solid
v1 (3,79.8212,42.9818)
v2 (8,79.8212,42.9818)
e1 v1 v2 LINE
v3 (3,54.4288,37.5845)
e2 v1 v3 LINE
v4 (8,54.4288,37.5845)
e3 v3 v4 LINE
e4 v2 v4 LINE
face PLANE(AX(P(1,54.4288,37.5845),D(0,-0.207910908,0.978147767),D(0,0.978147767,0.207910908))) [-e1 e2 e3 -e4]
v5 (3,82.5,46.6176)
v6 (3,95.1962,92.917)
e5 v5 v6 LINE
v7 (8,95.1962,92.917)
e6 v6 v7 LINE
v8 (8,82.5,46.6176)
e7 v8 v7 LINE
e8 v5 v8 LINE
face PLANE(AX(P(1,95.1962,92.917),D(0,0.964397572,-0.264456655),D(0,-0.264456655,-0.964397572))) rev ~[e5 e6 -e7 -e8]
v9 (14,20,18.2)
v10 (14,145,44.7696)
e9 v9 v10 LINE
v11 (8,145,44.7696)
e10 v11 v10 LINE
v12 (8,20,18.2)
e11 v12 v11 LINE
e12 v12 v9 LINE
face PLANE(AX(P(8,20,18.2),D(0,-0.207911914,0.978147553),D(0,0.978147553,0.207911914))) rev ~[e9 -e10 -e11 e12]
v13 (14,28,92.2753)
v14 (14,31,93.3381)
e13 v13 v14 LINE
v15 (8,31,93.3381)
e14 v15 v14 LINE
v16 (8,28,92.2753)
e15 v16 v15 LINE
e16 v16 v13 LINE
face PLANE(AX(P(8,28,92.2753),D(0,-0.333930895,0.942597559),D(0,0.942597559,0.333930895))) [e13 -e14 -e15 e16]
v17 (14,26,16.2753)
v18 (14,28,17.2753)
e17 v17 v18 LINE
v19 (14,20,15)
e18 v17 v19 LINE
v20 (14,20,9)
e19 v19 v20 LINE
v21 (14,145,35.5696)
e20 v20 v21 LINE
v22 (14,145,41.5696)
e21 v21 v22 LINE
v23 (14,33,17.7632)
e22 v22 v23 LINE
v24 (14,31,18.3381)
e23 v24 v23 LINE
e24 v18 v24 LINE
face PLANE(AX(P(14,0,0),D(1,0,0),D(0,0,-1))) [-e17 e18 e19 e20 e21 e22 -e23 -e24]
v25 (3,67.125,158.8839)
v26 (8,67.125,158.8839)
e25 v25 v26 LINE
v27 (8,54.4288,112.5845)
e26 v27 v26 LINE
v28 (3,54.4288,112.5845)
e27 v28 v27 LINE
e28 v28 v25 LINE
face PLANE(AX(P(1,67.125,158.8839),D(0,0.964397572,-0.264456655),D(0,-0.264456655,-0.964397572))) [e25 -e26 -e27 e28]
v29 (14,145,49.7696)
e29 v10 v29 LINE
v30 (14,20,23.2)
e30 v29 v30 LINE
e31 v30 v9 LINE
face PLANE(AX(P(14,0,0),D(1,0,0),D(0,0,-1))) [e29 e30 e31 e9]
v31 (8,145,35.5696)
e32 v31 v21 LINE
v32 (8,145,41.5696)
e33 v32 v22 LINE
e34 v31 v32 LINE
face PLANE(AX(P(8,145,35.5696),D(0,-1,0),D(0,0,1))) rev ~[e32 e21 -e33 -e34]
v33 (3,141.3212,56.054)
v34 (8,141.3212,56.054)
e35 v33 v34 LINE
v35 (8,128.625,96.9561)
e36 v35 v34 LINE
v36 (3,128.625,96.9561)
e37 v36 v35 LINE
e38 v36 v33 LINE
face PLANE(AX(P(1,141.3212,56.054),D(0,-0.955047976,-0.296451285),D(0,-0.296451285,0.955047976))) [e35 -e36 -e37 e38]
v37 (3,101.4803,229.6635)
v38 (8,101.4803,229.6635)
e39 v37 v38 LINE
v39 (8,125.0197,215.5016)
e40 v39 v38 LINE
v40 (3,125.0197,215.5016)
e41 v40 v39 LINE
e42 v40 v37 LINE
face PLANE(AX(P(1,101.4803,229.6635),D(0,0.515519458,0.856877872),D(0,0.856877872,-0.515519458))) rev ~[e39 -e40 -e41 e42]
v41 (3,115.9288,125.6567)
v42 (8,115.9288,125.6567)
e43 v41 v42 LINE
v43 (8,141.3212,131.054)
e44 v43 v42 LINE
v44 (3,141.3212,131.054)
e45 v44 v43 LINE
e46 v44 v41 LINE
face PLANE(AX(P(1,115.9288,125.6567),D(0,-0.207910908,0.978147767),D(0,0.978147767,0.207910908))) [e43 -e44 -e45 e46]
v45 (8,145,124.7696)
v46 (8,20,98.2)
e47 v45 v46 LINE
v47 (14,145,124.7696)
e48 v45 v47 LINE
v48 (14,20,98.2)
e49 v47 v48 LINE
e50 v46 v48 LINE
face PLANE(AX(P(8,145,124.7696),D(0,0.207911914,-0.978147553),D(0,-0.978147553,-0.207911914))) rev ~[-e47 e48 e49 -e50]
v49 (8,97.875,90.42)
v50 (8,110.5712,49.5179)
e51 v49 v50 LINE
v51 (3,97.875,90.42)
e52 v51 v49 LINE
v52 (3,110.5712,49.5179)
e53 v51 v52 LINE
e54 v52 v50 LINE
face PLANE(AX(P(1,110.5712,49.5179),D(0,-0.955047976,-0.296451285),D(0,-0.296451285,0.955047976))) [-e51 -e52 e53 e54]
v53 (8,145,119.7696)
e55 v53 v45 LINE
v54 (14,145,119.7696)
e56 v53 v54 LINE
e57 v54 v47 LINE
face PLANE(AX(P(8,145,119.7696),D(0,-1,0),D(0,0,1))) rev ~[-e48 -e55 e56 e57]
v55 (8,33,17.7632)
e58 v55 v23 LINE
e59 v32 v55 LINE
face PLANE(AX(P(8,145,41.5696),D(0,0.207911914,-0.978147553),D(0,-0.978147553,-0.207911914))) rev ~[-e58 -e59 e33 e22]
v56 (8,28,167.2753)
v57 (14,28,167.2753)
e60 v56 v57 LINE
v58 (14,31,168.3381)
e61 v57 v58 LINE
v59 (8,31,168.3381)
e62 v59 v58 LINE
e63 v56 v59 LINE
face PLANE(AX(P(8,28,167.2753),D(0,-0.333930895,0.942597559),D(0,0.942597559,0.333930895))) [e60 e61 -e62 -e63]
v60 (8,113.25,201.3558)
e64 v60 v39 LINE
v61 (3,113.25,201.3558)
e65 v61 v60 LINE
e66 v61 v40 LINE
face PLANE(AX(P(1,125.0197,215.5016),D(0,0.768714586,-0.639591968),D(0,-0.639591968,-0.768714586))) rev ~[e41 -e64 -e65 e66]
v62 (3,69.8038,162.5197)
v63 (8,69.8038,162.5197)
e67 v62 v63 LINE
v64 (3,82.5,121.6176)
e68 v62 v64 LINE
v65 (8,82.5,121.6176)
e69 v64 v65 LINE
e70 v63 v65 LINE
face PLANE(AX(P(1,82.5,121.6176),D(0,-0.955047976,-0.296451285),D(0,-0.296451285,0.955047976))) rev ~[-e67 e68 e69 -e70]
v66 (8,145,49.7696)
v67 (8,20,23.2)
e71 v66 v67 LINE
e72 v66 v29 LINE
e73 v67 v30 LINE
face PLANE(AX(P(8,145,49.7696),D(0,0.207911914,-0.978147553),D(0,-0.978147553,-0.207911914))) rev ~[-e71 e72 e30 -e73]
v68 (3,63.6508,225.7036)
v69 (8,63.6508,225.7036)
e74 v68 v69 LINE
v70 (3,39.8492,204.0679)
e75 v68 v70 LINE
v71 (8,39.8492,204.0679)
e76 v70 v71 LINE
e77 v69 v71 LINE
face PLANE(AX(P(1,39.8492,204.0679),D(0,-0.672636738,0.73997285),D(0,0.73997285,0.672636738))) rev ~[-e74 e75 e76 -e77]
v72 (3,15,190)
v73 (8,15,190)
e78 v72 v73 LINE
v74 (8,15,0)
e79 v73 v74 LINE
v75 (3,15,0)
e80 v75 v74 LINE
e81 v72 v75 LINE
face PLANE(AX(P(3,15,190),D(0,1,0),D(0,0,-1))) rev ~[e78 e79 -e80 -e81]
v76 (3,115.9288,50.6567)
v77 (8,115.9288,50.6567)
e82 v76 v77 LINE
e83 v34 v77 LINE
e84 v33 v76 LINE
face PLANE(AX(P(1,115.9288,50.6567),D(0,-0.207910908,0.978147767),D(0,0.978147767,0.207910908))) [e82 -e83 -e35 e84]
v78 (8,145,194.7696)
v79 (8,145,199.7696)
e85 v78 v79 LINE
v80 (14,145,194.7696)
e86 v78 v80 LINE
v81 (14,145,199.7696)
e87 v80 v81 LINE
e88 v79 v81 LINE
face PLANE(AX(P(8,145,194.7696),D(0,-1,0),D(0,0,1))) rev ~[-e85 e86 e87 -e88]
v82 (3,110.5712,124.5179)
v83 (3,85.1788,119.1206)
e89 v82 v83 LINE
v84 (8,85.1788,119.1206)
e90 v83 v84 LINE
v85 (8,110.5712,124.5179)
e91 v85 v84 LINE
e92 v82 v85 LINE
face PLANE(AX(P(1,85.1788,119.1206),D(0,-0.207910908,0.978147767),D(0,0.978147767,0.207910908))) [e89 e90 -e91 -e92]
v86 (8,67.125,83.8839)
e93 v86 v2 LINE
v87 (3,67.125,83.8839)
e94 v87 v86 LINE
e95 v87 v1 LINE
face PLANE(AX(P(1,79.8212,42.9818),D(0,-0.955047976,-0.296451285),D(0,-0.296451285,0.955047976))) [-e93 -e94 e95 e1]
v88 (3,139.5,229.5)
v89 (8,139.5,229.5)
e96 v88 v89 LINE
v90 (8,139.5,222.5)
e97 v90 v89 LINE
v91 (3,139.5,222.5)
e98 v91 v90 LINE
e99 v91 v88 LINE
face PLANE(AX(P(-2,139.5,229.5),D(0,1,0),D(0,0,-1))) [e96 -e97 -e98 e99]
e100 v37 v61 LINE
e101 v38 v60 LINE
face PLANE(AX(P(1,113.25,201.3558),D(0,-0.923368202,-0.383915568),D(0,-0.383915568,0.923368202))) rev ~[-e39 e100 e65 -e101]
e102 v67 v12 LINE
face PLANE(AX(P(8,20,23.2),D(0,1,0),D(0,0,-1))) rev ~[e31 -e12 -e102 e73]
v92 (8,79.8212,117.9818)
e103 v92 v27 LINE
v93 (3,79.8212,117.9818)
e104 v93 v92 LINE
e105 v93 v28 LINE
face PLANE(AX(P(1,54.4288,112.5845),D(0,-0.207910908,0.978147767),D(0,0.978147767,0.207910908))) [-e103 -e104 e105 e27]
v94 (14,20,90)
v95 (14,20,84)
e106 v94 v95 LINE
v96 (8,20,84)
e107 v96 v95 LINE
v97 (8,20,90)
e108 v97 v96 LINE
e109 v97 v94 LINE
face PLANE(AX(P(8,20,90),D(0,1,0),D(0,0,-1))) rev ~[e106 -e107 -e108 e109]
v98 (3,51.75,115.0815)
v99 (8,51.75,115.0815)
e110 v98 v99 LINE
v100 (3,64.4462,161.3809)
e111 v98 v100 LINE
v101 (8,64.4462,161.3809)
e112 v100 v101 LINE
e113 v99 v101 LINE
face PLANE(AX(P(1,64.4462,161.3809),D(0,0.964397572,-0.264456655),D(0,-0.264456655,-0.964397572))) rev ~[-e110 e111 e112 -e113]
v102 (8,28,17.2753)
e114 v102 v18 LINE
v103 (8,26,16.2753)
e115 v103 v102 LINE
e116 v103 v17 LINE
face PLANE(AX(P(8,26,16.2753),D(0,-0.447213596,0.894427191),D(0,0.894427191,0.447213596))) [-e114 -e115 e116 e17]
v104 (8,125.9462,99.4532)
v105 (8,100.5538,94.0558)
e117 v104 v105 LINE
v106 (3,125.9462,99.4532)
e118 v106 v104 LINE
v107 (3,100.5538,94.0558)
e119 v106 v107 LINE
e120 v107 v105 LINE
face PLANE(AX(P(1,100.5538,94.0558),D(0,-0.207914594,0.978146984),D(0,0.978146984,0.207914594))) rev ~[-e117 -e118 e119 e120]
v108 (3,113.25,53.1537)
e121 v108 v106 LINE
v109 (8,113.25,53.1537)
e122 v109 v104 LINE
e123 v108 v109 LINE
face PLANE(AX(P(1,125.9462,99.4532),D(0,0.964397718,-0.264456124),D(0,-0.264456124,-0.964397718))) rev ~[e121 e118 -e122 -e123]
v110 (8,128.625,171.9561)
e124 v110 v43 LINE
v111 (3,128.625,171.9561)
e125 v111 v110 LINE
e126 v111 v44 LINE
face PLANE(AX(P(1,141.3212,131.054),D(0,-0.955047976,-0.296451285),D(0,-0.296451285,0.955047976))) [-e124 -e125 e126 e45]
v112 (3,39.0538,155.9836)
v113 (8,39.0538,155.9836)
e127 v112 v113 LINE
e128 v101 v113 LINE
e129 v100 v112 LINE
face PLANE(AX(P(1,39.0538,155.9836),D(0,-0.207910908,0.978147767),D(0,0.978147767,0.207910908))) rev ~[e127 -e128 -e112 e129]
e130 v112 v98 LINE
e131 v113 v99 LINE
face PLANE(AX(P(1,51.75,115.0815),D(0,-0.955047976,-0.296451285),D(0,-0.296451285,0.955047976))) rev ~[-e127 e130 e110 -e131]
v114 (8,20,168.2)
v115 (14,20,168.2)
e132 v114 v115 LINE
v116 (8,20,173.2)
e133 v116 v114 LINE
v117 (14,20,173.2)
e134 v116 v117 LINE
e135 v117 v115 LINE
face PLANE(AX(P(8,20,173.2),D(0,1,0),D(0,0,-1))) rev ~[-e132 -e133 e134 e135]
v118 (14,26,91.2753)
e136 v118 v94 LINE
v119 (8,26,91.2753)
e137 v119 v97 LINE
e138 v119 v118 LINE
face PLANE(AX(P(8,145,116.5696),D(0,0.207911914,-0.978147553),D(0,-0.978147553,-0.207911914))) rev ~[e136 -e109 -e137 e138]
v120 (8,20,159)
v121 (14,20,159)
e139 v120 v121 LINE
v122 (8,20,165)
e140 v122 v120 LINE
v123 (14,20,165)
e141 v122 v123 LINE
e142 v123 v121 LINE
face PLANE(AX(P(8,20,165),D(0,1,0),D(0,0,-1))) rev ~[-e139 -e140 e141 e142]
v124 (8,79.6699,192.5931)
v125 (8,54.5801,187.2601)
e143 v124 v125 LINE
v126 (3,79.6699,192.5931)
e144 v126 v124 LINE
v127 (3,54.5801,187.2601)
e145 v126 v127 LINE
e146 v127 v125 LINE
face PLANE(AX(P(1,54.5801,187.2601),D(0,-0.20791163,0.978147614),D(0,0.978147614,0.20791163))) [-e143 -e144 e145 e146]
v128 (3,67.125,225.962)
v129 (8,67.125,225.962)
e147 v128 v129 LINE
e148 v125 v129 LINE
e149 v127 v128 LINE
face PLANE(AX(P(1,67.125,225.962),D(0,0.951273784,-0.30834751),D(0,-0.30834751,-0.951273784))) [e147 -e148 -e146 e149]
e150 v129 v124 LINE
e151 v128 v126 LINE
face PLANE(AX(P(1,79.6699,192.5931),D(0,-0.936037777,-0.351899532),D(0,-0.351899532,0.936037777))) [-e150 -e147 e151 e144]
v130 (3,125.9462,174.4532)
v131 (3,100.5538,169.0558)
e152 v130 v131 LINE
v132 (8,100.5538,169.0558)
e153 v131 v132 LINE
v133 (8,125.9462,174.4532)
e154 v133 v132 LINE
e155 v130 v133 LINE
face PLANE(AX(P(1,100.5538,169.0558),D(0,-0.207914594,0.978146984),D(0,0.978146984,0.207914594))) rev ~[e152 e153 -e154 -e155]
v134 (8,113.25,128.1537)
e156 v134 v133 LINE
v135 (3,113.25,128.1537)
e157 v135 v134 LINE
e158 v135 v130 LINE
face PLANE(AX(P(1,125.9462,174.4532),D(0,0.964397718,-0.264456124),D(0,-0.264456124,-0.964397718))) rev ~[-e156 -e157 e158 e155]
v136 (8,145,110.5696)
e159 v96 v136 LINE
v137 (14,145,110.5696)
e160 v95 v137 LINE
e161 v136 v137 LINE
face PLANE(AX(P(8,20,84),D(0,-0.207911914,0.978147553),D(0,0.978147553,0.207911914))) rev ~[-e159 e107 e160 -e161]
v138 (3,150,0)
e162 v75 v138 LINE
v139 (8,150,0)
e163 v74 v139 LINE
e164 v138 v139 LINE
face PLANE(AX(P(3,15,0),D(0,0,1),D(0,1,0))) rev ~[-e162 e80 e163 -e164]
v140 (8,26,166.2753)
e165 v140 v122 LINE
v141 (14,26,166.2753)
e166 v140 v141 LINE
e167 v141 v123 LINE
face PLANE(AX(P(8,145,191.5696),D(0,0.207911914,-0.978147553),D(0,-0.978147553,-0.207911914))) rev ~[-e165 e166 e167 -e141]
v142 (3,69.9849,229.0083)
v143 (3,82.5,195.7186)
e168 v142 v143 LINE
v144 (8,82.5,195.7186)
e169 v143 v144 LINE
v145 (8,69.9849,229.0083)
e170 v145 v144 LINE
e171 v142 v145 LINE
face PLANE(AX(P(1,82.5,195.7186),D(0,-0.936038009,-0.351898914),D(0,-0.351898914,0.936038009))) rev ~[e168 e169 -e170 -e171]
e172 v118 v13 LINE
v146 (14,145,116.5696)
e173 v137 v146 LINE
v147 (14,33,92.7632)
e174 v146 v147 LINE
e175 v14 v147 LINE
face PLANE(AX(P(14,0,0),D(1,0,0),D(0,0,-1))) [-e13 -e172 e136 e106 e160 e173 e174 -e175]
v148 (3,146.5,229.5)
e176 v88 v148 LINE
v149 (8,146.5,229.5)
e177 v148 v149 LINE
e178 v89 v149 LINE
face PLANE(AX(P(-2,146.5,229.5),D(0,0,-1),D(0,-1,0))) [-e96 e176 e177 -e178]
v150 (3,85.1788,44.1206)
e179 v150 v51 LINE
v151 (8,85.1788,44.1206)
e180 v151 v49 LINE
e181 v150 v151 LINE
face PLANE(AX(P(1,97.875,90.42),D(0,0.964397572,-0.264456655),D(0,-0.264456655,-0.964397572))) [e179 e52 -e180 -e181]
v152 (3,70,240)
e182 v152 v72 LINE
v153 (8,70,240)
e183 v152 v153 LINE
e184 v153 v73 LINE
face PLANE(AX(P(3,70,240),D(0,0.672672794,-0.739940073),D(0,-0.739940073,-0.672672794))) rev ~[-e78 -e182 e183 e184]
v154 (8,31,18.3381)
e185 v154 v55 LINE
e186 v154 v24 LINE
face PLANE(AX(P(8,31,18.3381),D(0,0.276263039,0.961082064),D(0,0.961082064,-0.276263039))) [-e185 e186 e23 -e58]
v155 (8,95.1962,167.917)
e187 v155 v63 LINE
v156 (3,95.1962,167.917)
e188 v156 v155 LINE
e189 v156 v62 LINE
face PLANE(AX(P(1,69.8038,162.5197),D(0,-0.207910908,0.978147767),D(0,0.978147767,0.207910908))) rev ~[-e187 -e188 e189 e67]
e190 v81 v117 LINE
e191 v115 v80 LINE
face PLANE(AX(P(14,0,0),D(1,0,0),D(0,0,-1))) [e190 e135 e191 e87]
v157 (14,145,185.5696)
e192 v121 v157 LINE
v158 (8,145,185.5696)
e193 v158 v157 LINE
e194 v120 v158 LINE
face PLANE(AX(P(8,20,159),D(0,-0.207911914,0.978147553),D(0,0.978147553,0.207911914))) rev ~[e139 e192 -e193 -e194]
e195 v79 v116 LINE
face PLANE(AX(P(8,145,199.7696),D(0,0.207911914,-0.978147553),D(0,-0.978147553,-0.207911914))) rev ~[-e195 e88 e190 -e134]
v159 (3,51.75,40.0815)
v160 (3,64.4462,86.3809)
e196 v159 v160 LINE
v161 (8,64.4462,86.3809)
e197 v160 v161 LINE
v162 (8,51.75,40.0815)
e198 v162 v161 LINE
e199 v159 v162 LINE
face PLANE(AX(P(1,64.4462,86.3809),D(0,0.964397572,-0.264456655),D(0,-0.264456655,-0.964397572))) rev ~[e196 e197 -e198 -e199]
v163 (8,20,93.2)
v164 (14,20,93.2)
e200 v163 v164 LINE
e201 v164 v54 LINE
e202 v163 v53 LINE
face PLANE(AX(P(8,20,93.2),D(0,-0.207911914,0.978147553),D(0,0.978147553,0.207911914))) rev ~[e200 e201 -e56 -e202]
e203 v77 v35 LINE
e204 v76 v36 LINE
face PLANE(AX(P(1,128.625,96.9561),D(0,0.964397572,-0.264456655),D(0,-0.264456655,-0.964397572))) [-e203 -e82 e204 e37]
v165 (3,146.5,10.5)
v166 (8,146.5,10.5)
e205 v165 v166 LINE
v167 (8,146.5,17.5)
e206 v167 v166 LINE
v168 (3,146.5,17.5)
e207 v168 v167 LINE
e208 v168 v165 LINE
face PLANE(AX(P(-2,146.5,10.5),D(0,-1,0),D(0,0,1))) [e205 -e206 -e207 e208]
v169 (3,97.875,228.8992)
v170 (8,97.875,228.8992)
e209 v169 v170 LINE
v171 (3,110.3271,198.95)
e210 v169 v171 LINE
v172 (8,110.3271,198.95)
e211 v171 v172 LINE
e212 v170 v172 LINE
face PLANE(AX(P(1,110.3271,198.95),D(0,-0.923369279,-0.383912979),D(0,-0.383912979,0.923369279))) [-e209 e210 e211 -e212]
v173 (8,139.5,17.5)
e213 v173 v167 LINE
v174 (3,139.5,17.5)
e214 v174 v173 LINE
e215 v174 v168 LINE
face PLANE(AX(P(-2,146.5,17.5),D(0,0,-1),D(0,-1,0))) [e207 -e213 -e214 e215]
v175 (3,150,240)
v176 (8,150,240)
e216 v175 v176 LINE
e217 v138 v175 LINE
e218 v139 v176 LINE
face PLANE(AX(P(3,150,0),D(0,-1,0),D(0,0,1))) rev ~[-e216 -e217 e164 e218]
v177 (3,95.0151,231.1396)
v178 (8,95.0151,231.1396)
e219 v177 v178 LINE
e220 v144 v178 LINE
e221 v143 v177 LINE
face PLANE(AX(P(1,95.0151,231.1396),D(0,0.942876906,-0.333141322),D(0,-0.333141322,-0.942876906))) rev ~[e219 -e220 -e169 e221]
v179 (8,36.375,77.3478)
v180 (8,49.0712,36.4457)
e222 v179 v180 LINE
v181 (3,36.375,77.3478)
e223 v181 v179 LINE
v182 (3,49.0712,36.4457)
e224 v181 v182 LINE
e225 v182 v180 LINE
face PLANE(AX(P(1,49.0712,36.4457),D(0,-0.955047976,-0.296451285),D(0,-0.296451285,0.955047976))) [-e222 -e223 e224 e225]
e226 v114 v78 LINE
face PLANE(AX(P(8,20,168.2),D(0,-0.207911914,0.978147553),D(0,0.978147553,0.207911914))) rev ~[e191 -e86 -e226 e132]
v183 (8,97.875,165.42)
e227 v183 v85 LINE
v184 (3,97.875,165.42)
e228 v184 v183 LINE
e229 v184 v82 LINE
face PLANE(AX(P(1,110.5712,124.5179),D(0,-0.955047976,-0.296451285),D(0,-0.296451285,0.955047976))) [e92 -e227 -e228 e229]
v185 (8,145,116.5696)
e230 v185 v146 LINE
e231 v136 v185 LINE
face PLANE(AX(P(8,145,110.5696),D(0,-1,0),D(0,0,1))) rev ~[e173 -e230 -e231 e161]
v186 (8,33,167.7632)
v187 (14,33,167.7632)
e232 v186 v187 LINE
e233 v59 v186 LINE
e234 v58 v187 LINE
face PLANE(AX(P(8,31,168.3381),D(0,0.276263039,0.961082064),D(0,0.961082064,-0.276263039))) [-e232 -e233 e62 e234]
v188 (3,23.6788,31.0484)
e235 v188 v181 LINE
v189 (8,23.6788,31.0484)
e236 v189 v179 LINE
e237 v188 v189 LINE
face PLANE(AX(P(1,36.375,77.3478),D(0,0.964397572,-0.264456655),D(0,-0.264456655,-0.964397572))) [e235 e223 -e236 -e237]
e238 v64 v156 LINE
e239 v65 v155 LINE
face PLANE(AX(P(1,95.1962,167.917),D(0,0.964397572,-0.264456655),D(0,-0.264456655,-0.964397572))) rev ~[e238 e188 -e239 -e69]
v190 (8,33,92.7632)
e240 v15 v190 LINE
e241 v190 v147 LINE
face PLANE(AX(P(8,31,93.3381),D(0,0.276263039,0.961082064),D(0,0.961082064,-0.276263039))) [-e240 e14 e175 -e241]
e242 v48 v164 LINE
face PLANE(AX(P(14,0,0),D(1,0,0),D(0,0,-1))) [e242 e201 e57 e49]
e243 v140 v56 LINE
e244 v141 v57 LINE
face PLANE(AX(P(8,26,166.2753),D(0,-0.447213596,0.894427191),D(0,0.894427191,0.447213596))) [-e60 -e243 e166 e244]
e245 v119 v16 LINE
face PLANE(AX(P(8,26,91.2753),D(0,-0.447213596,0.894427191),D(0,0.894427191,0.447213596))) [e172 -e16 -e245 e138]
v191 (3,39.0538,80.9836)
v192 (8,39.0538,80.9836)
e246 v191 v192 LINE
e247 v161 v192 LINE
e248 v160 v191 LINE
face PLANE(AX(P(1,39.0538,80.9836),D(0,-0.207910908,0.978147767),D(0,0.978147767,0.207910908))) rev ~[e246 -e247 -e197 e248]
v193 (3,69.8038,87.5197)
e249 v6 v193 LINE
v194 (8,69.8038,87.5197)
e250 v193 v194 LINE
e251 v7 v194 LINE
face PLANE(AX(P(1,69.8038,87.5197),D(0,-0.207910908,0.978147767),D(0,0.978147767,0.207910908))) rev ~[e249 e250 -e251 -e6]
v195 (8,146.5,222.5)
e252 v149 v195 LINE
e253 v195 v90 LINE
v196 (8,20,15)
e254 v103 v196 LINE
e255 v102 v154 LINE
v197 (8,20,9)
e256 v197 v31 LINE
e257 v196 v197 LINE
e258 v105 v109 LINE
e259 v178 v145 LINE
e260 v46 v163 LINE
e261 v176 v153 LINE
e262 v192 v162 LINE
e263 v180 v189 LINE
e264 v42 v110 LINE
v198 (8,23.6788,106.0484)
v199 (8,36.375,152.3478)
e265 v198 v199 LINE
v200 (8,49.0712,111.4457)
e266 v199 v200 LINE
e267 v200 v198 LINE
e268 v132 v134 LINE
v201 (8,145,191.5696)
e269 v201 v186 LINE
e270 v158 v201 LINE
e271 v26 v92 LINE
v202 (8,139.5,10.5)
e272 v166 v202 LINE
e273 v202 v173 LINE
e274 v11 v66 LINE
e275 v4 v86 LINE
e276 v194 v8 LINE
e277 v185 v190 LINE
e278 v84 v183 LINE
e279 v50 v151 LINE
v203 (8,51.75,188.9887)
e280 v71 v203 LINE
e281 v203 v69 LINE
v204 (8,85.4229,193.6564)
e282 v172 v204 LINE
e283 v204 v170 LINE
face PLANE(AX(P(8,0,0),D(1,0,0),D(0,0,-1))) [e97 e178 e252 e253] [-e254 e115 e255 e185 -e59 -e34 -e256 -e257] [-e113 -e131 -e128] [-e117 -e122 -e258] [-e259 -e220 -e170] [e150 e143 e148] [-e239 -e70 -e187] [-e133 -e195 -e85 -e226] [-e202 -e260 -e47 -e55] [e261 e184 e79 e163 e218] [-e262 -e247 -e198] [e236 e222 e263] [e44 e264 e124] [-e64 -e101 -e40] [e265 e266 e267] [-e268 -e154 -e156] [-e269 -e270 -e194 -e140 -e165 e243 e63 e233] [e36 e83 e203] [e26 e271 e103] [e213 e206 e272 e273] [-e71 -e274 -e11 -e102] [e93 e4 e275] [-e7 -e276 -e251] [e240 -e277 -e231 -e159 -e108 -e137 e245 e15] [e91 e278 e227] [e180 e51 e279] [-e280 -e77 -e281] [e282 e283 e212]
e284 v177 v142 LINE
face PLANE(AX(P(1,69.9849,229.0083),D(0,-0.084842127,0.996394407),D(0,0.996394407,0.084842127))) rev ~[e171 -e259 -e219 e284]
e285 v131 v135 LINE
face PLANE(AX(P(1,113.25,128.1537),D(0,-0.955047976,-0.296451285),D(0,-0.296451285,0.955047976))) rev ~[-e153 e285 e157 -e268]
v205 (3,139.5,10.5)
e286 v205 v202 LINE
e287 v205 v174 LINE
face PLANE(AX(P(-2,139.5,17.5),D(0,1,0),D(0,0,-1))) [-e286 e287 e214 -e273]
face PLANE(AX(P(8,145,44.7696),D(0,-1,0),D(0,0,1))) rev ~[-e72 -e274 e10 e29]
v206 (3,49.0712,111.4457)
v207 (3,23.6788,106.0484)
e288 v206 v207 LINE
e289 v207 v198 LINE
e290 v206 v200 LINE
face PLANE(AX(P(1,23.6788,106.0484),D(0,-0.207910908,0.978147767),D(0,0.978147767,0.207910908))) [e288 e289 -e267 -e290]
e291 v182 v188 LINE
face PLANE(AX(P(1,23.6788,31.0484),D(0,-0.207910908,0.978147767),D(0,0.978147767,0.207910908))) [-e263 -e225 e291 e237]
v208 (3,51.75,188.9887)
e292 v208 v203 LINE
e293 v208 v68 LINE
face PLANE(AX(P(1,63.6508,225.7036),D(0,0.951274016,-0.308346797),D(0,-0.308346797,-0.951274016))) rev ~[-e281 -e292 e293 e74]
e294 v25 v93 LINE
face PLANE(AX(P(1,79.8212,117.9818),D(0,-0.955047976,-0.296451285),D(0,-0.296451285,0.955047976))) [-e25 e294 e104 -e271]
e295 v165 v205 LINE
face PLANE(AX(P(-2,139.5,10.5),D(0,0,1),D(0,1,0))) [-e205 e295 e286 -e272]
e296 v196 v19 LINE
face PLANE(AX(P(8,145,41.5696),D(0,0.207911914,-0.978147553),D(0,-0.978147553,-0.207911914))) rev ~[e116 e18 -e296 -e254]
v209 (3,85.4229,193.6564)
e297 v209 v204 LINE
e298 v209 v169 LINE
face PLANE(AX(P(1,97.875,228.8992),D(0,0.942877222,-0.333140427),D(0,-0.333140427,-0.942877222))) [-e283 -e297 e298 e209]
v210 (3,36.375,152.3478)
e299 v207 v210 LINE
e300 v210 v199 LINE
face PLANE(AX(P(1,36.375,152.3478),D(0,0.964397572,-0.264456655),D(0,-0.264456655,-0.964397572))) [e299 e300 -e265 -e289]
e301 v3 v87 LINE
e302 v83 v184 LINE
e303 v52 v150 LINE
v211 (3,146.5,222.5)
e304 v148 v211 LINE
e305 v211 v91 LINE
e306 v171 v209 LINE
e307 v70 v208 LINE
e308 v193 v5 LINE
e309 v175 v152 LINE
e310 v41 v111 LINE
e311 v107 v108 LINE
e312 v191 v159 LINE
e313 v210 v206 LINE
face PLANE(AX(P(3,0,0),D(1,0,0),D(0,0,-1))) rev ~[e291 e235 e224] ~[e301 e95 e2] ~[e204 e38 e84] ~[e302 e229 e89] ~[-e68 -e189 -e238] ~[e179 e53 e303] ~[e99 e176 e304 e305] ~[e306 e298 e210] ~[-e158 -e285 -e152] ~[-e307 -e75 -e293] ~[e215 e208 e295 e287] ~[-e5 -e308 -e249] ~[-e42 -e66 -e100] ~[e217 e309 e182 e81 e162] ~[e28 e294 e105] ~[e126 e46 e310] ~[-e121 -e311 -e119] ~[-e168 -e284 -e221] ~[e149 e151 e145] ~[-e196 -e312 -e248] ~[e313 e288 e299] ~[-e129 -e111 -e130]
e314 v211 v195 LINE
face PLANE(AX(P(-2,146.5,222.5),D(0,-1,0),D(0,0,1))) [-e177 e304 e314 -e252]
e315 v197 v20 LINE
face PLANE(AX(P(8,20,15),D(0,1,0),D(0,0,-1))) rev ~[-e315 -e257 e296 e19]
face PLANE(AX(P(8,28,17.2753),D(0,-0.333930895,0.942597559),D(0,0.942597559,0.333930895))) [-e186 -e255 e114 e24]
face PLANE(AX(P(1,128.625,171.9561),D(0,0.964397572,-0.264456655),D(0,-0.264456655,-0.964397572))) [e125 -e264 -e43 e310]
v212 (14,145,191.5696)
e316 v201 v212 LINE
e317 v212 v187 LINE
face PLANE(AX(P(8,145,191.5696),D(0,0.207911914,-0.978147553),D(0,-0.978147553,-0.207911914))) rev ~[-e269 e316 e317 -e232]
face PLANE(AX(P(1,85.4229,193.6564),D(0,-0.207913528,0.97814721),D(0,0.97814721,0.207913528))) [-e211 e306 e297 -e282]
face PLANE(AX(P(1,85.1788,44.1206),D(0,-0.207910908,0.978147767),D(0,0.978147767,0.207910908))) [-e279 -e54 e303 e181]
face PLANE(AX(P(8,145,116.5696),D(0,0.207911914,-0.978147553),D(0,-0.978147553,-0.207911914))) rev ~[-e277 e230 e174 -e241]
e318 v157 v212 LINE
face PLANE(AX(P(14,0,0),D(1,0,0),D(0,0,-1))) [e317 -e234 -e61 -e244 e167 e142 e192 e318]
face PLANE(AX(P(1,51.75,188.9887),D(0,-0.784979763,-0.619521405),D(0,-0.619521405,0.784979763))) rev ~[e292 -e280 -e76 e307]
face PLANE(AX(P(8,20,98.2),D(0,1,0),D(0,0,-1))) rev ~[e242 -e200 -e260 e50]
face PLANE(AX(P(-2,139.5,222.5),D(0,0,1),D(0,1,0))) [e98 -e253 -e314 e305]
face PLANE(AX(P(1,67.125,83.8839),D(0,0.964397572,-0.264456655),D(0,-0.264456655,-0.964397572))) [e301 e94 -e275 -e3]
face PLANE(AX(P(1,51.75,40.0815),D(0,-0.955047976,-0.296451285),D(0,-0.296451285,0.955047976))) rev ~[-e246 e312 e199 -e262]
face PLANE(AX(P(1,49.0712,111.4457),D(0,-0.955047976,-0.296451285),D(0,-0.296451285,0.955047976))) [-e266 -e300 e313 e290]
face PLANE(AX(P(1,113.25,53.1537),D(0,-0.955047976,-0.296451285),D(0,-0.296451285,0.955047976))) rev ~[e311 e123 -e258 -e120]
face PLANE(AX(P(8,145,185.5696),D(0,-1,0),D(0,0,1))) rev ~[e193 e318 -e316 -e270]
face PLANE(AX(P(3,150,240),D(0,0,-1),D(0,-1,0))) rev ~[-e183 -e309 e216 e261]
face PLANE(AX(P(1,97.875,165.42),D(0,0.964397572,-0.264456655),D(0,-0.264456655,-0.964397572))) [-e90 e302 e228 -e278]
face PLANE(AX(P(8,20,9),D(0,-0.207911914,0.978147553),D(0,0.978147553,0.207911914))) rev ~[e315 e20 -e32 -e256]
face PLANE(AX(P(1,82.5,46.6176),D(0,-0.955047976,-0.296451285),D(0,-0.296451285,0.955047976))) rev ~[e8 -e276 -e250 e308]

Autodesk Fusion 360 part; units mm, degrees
sketch "Sketch1" plane through (0, 0, 0) normal (1, 0, 0) x (0, 0, -1)
  line L0 (0, 15) -> (0, 150)
  line L1 (0, 150) -> (-240, 150)
  line L2 (-240, 150) -> (-240, 70)
  line L3 (-240, 70) -> (-190, 15)
  line L4 (-190, 15) -> (0, 15)
extrude "Extrude1" add sketch "Sketch1" along normal blind 5 from surface at 3 makes body 1
sketch "Sketch2" plane through (0, 0, 0) normal (1, 0, 0) x (0, 0, -1)
  line L0 (-9, 20) -> (-35.5696, 145)
  line L1 (-35.5696, 145) -> (-41.5696, 145)
  line L2 (-41.5696, 145) -> (-15, 20)
  line L3 (-15, 20) -> (-9, 20)
extrude "Extrude2" add sketch "Sketch2" along normal blind 6 from surface at 8 separate body makes body 2
sketch "Sketch3" plane through (0, 0, 0) normal (1, 0, 0) x (0, 0, -1)
  line L0 (-18.2, 20) -> (-44.7696, 145)
  line L1 (-44.7696, 145) -> (-49.7696, 145)
  line L2 (-49.7696, 145) -> (-23.2, 20)
  line L3 (-23.2, 20) -> (-18.2, 20)
extrude "Extrude3" add sketch "Sketch3" along normal blind 6 from surface at 8 separate body makes body 3
sketch "Sketch4" plane through (0, 0, 0) normal (1, 0, 0) x (0, 0, -1)
  line L0 (-16.2753, 26) -> (-17.2753, 28)
  line L1 (-17.2753, 28) -> (-18.3381, 31)
  line L2 (-18.3381, 31) -> (-17.7632, 33)
  line L3 (-17.7632, 33) -> (-16.2753, 26)
extrude "Extrude4" add sketch "Sketch4" along normal blind 6 from surface at 8 separate body makes body 4
sketch "Sketch5" plane through (0, 0, 0) normal (1, 0, 0) x (0, 0, -1)
  line L0 (-84, 20) -> (-110.5696, 145)
  line L1 (-110.5696, 145) -> (-116.5696, 145)
  line L2 (-116.5696, 145) -> (-90, 20)
  line L3 (-90, 20) -> (-84, 20)
extrude "Extrude5" add sketch "Sketch5" along normal blind 6 from surface at 8 separate body makes body 5
sketch "Sketch6" plane through (0, 0, 0) normal (1, 0, 0) x (0, 0, -1)
  line L0 (-93.2, 20) -> (-119.7696, 145)
  line L1 (-119.7696, 145) -> (-124.7696, 145)
  line L2 (-124.7696, 145) -> (-98.2, 20)
  line L3 (-98.2, 20) -> (-93.2, 20)
extrude "Extrude6" add sketch "Sketch6" along normal blind 6 from surface at 8 separate body makes body 6
sketch "Sketch7" plane through (0, 0, 0) normal (1, 0, 0) x (0, 0, -1)
  line L0 (-91.2753, 26) -> (-92.2753, 28)
  line L1 (-92.2753, 28) -> (-93.3381, 31)
  line L2 (-93.3381, 31) -> (-92.7632, 33)
  line L3 (-92.7632, 33) -> (-91.2753, 26)
extrude "Extrude7" add sketch "Sketch7" along normal blind 6 from surface at 8 separate body makes body 7
sketch "Sketch8" plane through (0, 0, 0) normal (1, 0, 0) x (0, 0, -1)
  line L0 (-159, 20) -> (-185.5696, 145)
  line L1 (-185.5696, 145) -> (-191.5696, 145)
  line L2 (-191.5696, 145) -> (-165, 20)
  line L3 (-165, 20) -> (-159, 20)
extrude "Extrude8" add sketch "Sketch8" along normal blind 6 from surface at 8 separate body makes body 8
sketch "Sketch9" plane through (0, 0, 0) normal (1, 0, 0) x (0, 0, -1)
  line L0 (-168.2, 20) -> (-194.7696, 145)
  line L1 (-194.7696, 145) -> (-199.7696, 145)
  line L2 (-199.7696, 145) -> (-173.2, 20)
  line L3 (-173.2, 20) -> (-168.2, 20)
extrude "Extrude9" add sketch "Sketch9" along normal blind 6 from surface at 8 separate body makes body 9
sketch "Sketch10" plane through (0, 0, 0) normal (1, 0, 0) x (0, 0, -1)
  line L0 (-166.2753, 26) -> (-167.2753, 28)
  line L1 (-167.2753, 28) -> (-168.3381, 31)
  line L2 (-168.3381, 31) -> (-167.7632, 33)
  line L3 (-167.7632, 33) -> (-166.2753, 26)
extrude "Extrude10" add sketch "Sketch10" along normal blind 6 from surface at 8 separate body makes body 10
combine "Combine1" operation add target body 1 tool bodies 2 3 4 5 6 7 8 9 10
sketch "Sketch11" plane through (0, 0, 0) normal (1, 0, 0) x (0, 0, -1)
  line L0 (-10.5, 139.5) -> (-10.5, 146.5)
  line L1 (-10.5, 146.5) -> (-17.5, 146.5)
  line L2 (-17.5, 146.5) -> (-17.5, 139.5)
  line L3 (-17.5, 139.5) -> (-10.5, 139.5)
extrude "Extrude11" cut sketch "Sketch11" along normal blind 30 from surface at -2 bodies 1
sketch "Sketch12" plane through (0, 0, 0) normal (1, 0, 0) x (0, 0, -1)
  line L0 (-222.5, 139.5) -> (-222.5, 146.5)
  line L1 (-222.5, 146.5) -> (-229.5, 146.5)
  line L2 (-229.5, 146.5) -> (-229.5, 139.5)
  line L3 (-229.5, 139.5) -> (-222.5, 139.5)
extrude "Extrude12" cut sketch "Sketch12" along normal blind 30 from surface at -2 bodies 1
sketch "Sketch13" plane through (0, 0, 0) normal (1, 0, 0) x (0, 0, -1)
  line L0 (-31.0484, 23.6788) -> (-36.4457, 49.0712)
  line L1 (-36.4457, 49.0712) -> (-77.3478, 36.375)
  line L2 (-77.3478, 36.375) -> (-31.0484, 23.6788)
  line L3 (-37.5845, 54.4288) -> (-42.9818, 79.8212)
  line L4 (-42.9818, 79.8212) -> (-83.8839, 67.125)
  line L5 (-83.8839, 67.125) -> (-37.5845, 54.4288)
  line L6 (-44.1206, 85.1788) -> (-49.5179, 110.5712)
  line L7 (-49.5179, 110.5712) -> (-90.42, 97.875)
  line L8 (-90.42, 97.875) -> (-44.1206, 85.1788)
  line L9 (-50.6567, 115.9288) -> (-56.054, 141.3212)
  line L10 (-56.054, 141.3212) -> (-96.9561, 128.625)
  line L11 (-96.9561, 128.625) -> (-50.6567, 115.9288)
  line L12 (-80.9836, 39.0538) -> (-86.3809, 64.4462)
  line L13 (-86.3809, 64.4462) -> (-40.0815, 51.75)
  line L14 (-40.0815, 51.75) -> (-80.9836, 39.0538)
  line L15 (-87.5197, 69.8038) -> (-92.917, 95.1962)
  line L16 (-92.917, 95.1962) -> (-46.6176, 82.5)
  line L17 (-46.6176, 82.5) -> (-87.5197, 69.8038)
  line L18 (-94.0558, 100.5538) -> (-99.4532, 125.9462)
  line L19 (-99.4532, 125.9462) -> (-53.1537, 113.25)
  line L20 (-53.1537, 113.25) -> (-94.0558, 100.5538)
  line L21 (-106.0484, 23.6788) -> (-111.4457, 49.0712)
  line L22 (-111.4457, 49.0712) -> (-152.3478, 36.375)
  line L23 (-152.3478, 36.375) -> (-106.0484, 23.6788)
  line L24 (-112.5845, 54.4288) -> (-117.9818, 79.8212)
  line L25 (-117.9818, 79.8212) -> (-158.8839, 67.125)
  line L26 (-158.8839, 67.125) -> (-112.5845, 54.4288)
  line L27 (-119.1206, 85.1788) -> (-124.5179, 110.5712)
  line L28 (-124.5179, 110.5712) -> (-165.42, 97.875)
  line L29 (-165.42, 97.875) -> (-119.1206, 85.1788)
  line L30 (-125.6567, 115.9288) -> (-131.054, 141.3212)
  line L31 (-131.054, 141.3212) -> (-171.9561, 128.625)
  line L32 (-171.9561, 128.625) -> (-125.6567, 115.9288)
  line L33 (-155.9836, 39.0538) -> (-161.3809, 64.4462)
  line L34 (-161.3809, 64.4462) -> (-115.0815, 51.75)
  line L35 (-115.0815, 51.75) -> (-155.9836, 39.0538)
  line L36 (-162.5197, 69.8038) -> (-167.917, 95.1962)
  line L37 (-167.917, 95.1962) -> (-121.6176, 82.5)
  line L38 (-121.6176, 82.5) -> (-162.5197, 69.8038)
  line L39 (-169.0558, 100.5538) -> (-174.4532, 125.9462)
  line L40 (-174.4532, 125.9462) -> (-128.1537, 113.25)
  line L41 (-128.1537, 113.25) -> (-169.0558, 100.5538)
  line L42 (-187.2601, 54.5801) -> (-192.5931, 79.6699)
  line L43 (-192.5931, 79.6699) -> (-225.962, 67.125)
  line L44 (-225.962, 67.125) -> (-187.2601, 54.5801)
  line L45 (-193.6564, 85.4229) -> (-198.95, 110.3271)
  line L46 (-198.95, 110.3271) -> (-228.8992, 97.875)
  line L47 (-228.8992, 97.875) -> (-193.6564, 85.4229)
  line L48 (-204.0679, 39.8492) -> (-225.7036, 63.6508)
  line L49 (-225.7036, 63.6508) -> (-188.9887, 51.75)
  line L50 (-188.9887, 51.75) -> (-204.0679, 39.8492)
  line L51 (-229.0083, 69.9849) -> (-231.1396, 95.0151)
  line L52 (-231.1396, 95.0151) -> (-195.7186, 82.5)
  line L53 (-195.7186, 82.5) -> (-229.0083, 69.9849)
  line L54 (-229.6635, 101.4803) -> (-215.5016, 125.0197)
  line L55 (-215.5016, 125.0197) -> (-201.3558, 113.25)
  line L56 (-201.3558, 113.25) -> (-229.6635, 101.4803)
extrude "Extrude13" cut sketch "Sketch13" along normal blind 9 from surface at 1 bodies 1
